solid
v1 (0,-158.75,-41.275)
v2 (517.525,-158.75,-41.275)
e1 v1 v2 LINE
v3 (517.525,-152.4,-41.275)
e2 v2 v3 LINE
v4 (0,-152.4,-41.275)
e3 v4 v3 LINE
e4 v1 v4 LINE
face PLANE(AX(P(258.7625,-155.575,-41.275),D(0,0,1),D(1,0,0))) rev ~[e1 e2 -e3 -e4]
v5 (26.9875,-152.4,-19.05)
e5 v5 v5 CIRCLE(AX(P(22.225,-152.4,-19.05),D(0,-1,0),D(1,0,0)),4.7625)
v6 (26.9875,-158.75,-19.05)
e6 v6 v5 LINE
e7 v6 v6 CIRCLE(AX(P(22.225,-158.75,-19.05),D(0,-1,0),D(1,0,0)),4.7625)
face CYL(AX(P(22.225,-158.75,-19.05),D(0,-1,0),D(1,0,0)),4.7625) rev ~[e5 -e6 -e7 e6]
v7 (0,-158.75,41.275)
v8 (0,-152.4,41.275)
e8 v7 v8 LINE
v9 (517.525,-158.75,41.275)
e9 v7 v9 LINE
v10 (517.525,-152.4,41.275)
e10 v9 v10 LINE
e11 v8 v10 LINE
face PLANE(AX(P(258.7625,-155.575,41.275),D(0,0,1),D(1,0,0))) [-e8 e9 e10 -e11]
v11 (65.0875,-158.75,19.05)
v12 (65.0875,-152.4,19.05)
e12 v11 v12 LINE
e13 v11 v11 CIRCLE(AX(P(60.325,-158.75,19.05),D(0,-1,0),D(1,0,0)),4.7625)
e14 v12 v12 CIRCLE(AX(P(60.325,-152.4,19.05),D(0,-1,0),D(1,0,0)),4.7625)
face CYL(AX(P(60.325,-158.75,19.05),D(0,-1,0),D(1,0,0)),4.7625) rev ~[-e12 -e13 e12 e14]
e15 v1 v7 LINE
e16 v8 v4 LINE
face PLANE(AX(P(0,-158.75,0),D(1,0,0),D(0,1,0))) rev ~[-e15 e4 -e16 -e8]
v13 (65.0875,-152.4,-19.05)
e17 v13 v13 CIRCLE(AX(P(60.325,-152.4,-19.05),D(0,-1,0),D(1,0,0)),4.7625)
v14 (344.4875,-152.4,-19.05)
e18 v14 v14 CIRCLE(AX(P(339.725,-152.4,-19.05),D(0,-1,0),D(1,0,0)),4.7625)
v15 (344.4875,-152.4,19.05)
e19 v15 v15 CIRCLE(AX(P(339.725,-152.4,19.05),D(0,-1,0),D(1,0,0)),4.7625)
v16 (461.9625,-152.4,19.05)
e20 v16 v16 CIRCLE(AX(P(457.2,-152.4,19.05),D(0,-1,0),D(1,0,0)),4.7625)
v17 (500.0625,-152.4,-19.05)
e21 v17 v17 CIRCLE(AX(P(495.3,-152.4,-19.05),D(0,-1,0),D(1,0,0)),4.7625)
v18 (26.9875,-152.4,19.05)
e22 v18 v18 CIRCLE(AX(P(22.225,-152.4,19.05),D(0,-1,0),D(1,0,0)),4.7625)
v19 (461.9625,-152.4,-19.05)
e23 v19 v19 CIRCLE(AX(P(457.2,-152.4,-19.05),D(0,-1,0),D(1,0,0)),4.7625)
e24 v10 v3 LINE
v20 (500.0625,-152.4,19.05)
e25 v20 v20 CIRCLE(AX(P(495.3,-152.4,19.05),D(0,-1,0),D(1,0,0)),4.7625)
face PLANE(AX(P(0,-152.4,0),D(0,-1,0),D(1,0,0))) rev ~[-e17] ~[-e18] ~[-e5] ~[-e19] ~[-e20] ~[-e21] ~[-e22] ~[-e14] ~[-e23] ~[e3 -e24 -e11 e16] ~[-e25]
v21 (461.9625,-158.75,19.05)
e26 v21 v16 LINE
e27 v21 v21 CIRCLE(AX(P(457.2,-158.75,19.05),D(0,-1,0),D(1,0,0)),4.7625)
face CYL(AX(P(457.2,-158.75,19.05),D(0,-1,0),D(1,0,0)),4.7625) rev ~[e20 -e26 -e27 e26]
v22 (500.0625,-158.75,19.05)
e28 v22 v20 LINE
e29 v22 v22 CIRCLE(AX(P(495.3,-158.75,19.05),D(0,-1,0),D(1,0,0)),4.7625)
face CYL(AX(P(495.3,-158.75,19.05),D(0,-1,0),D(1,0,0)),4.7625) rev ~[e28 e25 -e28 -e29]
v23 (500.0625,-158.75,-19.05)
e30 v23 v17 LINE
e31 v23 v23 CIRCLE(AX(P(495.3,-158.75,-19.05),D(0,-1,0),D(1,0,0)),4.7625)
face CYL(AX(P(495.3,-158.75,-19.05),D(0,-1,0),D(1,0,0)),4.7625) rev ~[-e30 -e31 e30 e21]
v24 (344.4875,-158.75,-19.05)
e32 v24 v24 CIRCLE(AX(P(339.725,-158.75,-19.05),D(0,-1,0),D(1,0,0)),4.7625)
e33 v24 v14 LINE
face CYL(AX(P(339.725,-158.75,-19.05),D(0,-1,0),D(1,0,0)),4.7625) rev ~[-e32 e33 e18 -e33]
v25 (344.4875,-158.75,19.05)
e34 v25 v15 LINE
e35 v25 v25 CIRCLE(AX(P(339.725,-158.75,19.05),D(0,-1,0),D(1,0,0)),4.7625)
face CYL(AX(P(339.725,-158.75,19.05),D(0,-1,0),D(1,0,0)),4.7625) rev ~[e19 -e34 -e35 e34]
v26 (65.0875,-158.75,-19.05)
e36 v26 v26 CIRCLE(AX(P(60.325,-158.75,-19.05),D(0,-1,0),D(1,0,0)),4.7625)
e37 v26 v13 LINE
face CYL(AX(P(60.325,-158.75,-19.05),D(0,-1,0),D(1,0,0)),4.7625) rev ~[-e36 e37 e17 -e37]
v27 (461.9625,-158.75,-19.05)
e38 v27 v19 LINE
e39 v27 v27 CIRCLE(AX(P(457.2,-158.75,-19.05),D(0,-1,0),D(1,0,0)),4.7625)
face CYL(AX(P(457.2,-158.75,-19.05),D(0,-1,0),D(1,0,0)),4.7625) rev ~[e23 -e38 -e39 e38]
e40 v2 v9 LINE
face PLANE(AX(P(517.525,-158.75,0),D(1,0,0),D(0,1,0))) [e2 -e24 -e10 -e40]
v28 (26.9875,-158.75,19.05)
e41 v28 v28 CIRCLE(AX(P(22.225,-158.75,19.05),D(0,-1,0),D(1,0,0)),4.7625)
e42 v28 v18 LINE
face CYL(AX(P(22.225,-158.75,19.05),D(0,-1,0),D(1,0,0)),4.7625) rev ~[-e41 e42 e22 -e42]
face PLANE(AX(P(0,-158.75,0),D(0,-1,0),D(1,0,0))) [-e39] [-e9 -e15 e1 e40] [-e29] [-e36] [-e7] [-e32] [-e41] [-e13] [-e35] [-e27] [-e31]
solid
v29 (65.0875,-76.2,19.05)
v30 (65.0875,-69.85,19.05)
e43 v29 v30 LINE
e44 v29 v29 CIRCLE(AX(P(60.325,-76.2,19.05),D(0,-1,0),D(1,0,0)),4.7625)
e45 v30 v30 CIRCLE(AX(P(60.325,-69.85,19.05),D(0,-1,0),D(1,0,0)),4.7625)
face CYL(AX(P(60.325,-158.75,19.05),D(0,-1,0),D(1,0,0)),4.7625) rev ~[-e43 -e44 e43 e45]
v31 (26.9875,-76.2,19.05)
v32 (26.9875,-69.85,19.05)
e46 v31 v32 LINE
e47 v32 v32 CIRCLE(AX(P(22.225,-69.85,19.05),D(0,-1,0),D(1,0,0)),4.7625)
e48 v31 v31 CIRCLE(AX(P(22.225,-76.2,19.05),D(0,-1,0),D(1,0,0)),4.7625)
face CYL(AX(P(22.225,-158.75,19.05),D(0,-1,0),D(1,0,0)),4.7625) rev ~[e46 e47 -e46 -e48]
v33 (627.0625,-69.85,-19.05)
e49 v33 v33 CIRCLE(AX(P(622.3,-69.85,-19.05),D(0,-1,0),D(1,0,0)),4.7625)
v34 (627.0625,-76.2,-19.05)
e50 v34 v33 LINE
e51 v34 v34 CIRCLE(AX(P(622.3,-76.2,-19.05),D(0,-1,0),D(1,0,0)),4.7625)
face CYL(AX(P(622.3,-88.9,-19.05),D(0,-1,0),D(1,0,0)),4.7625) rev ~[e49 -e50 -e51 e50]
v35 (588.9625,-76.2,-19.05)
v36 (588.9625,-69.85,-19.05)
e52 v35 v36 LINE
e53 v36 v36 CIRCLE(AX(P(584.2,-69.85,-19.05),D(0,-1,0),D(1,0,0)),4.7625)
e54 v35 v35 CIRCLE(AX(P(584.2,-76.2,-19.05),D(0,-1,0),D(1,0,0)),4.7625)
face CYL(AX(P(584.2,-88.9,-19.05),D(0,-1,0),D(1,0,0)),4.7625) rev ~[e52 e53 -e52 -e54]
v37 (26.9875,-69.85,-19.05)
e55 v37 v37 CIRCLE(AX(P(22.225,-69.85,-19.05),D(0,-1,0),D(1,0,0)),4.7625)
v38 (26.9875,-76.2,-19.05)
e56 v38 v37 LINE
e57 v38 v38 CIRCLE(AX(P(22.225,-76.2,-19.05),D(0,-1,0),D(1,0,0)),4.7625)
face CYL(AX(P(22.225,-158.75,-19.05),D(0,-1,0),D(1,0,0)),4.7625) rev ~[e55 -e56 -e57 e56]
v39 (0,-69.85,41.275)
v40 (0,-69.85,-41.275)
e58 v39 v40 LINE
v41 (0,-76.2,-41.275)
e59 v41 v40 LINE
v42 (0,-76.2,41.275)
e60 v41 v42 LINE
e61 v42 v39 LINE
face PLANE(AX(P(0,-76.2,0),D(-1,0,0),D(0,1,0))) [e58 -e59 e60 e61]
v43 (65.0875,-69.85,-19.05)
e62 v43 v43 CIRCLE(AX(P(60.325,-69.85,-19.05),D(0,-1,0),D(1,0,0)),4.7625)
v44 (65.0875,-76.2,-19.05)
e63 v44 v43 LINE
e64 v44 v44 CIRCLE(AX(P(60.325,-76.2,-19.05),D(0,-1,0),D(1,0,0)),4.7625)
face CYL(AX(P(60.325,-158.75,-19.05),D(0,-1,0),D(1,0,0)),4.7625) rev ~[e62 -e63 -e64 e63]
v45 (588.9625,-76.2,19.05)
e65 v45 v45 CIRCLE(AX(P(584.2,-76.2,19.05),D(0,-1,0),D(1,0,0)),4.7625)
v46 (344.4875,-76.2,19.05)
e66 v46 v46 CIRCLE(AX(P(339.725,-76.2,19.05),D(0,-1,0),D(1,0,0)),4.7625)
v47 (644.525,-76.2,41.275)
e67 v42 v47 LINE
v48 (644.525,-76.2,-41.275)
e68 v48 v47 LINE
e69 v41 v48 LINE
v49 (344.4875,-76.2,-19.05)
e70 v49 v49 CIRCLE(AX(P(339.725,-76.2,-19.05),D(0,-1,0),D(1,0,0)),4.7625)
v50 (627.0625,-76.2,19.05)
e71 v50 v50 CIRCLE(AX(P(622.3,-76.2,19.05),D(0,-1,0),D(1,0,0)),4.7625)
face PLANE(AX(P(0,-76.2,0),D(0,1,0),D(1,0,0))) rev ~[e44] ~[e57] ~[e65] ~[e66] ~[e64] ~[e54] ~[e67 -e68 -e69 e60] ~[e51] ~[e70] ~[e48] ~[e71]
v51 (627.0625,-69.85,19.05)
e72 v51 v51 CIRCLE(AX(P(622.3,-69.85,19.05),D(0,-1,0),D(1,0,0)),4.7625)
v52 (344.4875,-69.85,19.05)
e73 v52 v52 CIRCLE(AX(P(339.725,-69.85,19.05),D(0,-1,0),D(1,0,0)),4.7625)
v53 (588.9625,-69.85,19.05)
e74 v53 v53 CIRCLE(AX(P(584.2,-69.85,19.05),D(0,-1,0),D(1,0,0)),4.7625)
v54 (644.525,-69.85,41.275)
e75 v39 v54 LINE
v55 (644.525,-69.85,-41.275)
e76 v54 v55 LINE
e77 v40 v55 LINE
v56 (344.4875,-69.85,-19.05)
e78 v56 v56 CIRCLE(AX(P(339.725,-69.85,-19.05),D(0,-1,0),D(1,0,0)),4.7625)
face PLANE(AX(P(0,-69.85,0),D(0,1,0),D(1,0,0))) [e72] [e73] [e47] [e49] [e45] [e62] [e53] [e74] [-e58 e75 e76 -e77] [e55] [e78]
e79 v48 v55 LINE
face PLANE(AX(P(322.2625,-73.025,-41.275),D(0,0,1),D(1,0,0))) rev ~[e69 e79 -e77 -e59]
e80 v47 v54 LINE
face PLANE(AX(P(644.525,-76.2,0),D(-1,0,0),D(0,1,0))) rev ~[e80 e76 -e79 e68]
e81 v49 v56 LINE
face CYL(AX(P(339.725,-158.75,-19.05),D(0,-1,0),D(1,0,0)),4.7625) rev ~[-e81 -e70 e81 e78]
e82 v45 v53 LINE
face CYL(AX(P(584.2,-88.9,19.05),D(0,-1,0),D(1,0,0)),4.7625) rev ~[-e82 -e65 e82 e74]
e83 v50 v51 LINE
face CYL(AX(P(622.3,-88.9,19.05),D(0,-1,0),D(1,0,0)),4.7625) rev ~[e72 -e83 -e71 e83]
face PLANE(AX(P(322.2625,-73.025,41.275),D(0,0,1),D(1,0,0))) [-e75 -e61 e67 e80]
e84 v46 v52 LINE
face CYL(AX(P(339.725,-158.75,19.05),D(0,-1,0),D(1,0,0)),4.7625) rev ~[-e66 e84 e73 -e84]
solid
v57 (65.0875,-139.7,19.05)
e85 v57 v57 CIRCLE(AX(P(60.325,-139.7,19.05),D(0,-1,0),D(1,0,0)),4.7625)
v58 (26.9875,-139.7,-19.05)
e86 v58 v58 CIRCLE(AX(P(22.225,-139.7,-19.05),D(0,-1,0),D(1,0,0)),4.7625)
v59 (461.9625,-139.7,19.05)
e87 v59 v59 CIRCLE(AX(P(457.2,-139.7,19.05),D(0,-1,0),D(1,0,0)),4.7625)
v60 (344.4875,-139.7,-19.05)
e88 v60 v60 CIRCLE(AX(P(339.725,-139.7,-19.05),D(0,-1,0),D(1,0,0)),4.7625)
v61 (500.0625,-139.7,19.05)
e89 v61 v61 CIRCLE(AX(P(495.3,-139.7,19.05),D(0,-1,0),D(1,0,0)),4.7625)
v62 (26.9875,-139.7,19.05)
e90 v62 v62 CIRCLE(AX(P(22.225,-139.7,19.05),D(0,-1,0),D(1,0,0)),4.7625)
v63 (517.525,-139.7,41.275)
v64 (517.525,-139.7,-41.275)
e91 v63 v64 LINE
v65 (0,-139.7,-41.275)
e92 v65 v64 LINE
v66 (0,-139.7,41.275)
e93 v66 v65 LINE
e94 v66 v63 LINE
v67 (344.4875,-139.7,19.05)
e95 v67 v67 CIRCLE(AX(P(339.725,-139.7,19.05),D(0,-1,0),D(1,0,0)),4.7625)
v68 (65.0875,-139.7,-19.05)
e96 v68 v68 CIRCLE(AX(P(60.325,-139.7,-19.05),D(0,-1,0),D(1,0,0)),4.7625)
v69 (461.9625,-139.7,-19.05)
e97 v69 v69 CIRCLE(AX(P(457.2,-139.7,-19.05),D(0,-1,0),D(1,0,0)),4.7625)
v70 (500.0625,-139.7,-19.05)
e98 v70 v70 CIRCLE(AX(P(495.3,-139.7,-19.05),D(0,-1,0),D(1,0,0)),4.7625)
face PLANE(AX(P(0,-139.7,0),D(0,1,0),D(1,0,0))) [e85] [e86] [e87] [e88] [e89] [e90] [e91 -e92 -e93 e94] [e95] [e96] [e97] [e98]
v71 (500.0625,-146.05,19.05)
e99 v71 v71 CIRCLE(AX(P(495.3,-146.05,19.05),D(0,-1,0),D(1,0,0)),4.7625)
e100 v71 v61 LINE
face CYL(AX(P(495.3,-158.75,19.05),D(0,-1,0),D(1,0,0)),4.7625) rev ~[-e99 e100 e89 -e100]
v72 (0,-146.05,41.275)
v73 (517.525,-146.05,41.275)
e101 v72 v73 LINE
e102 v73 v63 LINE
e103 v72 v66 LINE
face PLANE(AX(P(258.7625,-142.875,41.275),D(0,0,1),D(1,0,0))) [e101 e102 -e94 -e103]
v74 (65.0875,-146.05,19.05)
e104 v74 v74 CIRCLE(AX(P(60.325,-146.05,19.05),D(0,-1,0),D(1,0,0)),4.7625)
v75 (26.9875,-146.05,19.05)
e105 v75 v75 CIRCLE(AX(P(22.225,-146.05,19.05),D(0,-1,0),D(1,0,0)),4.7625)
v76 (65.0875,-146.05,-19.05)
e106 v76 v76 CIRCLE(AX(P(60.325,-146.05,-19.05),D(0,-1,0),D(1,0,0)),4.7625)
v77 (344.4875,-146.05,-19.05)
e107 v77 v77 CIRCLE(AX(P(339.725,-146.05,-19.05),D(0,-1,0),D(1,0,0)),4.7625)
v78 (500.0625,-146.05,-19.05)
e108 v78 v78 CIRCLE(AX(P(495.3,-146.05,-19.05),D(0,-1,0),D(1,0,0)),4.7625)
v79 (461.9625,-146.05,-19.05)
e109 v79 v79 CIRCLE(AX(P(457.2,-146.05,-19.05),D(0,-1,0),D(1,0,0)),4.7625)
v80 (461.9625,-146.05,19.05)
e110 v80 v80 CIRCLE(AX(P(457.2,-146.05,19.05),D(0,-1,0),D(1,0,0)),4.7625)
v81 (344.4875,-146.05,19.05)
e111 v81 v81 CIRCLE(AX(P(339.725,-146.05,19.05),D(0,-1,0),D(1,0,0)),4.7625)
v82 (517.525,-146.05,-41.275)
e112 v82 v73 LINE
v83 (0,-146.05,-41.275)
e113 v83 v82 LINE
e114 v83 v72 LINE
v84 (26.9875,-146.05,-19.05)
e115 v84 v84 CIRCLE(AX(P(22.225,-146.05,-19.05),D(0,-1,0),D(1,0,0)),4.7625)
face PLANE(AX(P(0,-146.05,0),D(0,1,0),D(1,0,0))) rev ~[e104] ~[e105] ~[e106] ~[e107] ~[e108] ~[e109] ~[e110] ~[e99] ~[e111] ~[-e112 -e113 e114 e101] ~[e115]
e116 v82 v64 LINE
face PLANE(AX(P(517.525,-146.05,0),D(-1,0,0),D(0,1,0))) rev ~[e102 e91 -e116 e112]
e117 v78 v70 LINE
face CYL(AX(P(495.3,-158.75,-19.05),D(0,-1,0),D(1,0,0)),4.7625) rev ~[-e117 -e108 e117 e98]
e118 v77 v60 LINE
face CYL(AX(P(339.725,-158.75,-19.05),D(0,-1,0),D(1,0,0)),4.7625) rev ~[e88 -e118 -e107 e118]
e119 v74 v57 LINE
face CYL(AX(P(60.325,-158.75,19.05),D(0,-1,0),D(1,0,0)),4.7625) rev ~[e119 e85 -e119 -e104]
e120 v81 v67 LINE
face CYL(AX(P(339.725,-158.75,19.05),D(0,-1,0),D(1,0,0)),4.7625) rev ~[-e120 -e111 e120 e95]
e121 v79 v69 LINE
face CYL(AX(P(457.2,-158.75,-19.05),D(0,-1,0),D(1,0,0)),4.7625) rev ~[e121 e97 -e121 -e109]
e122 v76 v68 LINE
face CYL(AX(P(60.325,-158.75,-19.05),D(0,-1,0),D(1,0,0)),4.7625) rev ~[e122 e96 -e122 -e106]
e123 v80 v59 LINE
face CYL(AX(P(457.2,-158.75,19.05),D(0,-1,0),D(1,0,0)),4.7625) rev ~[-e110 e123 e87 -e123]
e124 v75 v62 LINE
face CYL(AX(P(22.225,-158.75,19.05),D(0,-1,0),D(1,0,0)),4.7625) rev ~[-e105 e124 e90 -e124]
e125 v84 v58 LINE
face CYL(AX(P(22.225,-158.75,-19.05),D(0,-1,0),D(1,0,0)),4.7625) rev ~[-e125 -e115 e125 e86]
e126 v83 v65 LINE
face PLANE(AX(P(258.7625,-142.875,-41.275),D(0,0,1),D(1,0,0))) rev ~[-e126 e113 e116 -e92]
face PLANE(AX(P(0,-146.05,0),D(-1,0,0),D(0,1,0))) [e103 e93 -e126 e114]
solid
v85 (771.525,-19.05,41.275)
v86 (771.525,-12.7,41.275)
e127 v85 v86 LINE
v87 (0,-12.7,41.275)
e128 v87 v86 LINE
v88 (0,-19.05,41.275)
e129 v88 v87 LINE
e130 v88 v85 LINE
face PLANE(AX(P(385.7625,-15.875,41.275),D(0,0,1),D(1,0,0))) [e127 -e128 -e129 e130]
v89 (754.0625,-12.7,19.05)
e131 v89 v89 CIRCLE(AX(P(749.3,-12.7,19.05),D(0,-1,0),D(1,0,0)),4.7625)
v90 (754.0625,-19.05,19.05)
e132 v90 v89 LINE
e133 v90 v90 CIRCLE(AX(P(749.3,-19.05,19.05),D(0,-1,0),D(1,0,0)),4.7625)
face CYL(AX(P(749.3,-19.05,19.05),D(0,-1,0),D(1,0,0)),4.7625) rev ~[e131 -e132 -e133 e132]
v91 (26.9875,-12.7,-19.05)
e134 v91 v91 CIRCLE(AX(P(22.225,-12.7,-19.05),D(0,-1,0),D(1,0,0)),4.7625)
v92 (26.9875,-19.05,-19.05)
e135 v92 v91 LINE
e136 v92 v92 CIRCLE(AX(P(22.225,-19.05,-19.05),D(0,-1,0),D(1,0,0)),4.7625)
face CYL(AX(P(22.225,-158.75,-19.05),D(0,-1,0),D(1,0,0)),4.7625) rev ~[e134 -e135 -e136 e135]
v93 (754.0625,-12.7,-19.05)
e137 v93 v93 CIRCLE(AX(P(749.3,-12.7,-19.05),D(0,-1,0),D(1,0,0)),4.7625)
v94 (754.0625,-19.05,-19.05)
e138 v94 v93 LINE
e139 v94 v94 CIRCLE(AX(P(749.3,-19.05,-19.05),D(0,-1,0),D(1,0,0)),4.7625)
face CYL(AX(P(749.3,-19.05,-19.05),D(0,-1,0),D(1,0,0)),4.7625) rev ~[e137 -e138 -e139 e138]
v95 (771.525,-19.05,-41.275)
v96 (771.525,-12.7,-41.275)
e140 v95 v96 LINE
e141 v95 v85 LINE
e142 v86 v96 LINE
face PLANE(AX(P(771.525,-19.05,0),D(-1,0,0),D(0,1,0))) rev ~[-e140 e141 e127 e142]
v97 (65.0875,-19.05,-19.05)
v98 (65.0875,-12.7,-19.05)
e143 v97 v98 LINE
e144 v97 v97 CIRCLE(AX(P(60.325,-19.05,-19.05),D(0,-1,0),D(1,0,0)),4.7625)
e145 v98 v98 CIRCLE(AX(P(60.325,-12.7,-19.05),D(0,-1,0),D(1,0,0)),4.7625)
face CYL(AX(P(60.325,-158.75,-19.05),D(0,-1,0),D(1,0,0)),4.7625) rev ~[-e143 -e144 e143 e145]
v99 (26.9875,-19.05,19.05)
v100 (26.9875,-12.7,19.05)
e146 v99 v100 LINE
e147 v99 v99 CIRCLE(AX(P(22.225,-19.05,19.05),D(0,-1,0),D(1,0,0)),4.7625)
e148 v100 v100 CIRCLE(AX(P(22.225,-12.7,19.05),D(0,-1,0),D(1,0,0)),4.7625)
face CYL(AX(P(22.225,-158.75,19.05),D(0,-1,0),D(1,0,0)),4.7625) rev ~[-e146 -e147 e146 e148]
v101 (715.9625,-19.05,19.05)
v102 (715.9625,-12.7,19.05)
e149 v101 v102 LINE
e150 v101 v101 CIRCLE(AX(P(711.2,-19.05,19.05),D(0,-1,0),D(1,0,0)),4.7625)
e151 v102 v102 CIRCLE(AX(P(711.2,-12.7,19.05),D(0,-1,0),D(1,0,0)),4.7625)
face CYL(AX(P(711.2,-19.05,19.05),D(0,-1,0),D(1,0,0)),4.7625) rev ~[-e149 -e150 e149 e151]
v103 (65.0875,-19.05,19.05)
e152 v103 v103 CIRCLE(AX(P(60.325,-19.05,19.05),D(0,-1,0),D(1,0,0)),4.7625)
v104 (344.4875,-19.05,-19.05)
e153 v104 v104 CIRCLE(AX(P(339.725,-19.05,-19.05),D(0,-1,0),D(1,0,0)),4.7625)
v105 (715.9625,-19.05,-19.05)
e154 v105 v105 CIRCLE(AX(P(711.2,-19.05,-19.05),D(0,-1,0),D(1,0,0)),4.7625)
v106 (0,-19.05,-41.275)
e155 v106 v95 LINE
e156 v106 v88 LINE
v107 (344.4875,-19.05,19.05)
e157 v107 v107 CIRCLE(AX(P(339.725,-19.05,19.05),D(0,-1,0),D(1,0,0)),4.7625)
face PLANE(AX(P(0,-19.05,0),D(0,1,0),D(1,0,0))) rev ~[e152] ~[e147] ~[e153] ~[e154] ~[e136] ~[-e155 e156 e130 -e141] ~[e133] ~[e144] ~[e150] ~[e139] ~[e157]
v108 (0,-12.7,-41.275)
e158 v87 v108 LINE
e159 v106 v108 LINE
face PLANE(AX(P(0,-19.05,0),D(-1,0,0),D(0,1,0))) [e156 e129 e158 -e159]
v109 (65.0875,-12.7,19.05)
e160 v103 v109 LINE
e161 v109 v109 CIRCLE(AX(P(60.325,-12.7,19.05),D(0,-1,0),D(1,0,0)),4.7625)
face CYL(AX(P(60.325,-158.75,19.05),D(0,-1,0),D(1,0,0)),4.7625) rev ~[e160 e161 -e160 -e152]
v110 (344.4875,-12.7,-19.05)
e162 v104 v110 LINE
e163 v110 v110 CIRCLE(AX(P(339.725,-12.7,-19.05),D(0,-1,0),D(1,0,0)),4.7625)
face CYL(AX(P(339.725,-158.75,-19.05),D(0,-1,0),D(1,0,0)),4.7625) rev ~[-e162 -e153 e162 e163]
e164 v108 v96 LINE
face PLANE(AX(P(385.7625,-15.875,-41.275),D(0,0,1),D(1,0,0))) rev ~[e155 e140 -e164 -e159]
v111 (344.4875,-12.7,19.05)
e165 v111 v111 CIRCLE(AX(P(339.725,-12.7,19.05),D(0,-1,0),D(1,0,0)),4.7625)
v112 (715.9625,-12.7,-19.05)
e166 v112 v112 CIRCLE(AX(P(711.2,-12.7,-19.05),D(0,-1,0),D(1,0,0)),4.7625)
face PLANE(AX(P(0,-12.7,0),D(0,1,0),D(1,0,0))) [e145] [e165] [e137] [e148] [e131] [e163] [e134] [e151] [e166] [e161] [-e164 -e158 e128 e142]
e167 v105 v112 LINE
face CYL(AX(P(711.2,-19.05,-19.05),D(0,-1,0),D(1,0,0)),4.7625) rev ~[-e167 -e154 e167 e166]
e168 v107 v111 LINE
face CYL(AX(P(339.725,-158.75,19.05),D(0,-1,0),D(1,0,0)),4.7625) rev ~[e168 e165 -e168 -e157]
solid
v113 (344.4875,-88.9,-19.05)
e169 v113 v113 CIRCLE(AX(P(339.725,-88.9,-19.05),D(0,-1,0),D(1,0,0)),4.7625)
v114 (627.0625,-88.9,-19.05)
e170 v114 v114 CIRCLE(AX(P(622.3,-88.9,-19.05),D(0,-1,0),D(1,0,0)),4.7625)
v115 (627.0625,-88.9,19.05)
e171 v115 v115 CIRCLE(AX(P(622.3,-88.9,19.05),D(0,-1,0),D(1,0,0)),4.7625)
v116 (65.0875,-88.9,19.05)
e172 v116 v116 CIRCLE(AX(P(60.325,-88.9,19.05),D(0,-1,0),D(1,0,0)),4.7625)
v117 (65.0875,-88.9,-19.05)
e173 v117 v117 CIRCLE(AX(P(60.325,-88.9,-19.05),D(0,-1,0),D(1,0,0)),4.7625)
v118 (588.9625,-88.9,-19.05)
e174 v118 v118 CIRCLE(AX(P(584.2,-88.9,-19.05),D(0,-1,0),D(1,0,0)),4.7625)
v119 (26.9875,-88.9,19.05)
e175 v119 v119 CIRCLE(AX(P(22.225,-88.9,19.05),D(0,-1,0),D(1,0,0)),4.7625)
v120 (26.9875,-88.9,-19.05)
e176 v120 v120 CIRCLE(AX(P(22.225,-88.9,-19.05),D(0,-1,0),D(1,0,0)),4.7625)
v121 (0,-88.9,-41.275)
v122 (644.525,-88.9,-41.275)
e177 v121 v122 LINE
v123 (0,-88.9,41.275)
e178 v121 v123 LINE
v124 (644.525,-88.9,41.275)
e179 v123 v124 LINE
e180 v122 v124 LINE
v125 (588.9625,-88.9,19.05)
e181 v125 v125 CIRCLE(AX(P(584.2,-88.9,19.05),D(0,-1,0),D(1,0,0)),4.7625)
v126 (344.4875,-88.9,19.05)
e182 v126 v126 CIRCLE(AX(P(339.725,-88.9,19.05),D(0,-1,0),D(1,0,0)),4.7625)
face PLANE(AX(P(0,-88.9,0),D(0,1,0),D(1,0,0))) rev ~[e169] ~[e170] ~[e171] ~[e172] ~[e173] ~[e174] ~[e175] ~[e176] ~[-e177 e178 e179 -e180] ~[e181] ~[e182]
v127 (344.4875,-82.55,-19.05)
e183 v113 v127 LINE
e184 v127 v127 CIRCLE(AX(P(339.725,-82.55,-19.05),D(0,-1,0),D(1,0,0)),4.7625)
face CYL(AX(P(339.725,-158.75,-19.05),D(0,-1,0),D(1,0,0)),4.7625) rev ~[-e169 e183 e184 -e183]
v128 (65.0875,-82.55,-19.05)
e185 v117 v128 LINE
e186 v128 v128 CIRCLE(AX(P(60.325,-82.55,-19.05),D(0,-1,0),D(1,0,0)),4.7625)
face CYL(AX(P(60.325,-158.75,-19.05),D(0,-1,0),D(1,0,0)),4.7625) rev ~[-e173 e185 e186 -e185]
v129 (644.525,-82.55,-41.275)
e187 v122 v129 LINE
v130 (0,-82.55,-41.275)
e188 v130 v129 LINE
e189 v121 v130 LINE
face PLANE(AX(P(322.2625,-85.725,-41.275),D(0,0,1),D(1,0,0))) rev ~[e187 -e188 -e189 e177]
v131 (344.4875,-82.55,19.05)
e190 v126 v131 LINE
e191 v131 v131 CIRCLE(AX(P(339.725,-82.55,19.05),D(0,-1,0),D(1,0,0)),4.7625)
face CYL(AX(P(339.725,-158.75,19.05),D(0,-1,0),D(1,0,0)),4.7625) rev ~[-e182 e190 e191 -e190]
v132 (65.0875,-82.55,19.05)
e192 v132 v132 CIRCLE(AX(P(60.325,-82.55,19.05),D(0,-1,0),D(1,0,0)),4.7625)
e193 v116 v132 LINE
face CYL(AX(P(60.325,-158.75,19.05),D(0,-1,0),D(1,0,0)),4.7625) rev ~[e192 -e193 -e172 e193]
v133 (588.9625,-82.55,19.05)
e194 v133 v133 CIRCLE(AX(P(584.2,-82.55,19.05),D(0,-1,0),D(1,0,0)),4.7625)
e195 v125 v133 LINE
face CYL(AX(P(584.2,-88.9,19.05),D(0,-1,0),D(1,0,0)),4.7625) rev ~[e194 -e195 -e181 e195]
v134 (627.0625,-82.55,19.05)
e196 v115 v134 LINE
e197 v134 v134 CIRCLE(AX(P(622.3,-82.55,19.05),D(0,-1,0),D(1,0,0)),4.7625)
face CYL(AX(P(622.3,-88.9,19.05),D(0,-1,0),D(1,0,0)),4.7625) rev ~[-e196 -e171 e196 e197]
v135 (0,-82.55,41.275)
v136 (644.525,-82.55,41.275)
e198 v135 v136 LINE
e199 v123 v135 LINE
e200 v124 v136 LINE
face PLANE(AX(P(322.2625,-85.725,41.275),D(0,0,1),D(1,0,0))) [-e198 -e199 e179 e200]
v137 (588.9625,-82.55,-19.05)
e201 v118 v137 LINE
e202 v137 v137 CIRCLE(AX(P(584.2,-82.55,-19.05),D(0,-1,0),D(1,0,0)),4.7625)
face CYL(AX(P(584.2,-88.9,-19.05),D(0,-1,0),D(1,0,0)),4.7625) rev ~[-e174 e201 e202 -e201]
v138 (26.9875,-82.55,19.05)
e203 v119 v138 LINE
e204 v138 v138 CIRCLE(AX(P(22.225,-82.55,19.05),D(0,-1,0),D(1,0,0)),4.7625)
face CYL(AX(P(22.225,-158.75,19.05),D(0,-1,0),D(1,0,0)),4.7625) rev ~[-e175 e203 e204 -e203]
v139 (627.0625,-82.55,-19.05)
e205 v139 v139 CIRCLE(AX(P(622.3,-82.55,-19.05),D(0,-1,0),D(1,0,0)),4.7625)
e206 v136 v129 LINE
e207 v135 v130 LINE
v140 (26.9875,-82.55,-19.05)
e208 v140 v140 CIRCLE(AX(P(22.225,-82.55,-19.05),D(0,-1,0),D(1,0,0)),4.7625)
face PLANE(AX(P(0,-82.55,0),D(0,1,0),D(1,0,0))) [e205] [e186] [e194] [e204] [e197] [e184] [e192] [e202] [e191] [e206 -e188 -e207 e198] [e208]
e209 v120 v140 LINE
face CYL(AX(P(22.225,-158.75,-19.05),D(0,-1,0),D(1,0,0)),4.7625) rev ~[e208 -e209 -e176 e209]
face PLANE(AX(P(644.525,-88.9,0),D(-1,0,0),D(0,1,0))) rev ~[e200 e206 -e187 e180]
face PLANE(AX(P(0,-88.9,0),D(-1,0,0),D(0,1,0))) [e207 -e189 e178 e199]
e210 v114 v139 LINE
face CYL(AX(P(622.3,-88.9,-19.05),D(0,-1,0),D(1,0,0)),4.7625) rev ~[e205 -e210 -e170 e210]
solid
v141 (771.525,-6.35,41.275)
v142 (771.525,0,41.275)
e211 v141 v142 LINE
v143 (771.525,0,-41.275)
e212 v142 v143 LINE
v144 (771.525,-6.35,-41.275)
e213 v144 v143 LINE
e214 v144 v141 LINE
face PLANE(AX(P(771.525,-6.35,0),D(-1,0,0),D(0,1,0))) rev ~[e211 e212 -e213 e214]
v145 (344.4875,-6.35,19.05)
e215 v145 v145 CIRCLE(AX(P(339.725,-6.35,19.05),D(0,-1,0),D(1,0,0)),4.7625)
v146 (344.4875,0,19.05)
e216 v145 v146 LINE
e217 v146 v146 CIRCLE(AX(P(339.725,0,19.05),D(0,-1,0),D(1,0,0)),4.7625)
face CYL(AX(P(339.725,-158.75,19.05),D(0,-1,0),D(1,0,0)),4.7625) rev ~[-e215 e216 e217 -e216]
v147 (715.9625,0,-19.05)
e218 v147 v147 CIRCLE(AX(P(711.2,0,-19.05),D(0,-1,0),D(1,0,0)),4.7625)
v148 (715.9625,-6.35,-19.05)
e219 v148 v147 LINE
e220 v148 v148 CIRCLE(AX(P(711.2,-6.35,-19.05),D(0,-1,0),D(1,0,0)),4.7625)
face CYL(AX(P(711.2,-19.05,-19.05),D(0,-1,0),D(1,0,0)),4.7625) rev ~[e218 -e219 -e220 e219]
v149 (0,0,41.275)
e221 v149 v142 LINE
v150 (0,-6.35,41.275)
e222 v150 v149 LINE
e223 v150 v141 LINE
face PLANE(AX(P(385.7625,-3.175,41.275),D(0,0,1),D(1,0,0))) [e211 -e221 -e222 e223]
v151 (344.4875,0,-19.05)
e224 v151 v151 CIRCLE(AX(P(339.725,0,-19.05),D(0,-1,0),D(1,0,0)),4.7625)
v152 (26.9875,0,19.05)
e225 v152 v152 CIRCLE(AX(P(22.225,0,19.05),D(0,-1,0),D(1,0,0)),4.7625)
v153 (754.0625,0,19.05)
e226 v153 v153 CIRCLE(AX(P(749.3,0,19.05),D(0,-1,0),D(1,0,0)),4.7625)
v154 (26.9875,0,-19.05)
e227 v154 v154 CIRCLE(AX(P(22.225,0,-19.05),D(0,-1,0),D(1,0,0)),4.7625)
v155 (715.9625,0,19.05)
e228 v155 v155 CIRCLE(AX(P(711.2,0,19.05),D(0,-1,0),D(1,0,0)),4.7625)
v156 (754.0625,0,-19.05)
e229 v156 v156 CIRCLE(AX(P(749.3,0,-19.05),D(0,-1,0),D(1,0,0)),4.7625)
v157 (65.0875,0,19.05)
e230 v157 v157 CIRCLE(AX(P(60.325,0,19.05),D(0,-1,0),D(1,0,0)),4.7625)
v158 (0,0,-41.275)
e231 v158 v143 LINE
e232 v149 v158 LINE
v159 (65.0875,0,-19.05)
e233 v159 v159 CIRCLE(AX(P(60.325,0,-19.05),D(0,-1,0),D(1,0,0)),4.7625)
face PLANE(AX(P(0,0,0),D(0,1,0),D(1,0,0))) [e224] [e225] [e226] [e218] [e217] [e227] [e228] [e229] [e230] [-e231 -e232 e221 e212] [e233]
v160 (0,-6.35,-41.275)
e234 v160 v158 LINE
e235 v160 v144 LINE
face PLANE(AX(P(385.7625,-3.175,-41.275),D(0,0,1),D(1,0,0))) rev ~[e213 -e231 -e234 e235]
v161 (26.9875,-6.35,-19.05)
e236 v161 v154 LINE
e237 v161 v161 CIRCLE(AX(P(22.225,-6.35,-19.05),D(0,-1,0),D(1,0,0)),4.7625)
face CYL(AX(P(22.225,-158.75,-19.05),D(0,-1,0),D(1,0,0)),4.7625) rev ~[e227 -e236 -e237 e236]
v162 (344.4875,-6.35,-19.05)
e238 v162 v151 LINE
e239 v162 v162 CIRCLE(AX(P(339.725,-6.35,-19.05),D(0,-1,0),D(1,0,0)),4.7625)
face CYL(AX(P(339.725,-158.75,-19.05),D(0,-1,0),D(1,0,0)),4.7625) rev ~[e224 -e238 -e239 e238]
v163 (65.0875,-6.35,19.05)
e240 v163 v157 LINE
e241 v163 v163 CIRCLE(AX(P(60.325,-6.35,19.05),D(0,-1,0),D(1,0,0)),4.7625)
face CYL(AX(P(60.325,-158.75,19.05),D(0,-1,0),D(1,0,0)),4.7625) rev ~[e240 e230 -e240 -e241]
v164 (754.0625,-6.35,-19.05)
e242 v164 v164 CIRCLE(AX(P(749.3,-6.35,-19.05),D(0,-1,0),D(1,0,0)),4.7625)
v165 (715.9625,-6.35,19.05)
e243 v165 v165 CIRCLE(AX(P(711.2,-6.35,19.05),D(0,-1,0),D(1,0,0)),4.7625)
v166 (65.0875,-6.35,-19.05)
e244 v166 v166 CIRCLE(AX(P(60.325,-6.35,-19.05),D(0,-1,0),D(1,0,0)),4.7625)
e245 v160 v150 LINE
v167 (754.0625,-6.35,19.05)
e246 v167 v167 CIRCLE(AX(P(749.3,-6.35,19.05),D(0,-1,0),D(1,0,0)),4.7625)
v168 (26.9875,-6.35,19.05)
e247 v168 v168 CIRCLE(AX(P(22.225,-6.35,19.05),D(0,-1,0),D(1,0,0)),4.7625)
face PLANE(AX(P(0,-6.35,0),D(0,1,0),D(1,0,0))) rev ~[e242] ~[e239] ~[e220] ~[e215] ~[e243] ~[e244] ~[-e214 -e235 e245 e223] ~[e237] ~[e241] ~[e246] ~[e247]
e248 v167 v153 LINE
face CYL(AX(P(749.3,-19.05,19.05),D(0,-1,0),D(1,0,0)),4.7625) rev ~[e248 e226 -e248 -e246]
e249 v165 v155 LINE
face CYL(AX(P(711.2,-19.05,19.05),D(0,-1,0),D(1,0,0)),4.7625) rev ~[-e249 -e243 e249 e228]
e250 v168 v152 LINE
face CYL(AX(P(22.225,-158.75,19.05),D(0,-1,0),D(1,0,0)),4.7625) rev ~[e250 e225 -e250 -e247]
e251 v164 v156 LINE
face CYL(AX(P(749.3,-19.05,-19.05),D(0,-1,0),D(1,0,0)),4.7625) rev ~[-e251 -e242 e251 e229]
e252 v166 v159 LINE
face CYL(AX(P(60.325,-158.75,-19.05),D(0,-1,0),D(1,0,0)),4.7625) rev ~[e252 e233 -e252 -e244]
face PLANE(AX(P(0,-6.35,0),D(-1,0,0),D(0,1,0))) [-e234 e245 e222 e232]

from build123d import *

# Parameters (mm, degrees)
F0_W     = 771.525
F0_H     = 6.35
F0_W_2   = 644.525
F0_W_3   = 517.525
F1_DEPTH = 41.275
F2_R     = 4.7625
F3_DEPTH = 158.751
F4_R     = 4.7625
F5_DEPTH = 19.05
F6_R     = 4.7625
F7_DEPTH = 19.05
F8_R     = 4.7625
F9_DEPTH = 19.05


with BuildPart() as f1:
    # F0 (on Top) → F1 (new body, symmetric)
    with BuildSketch(Plane.XY):
        with Locations((385.7625, -3.175)):
            Rectangle(F0_W, F0_H)
        with Locations((385.7625, -15.875)):
            Rectangle(F0_W, F0_H)
        with Locations((322.2625, -73.025)):
            Rectangle(F0_W_2, F0_H)
        with Locations((322.2625, -85.725)):
            Rectangle(F0_W_2, F0_H)
        with Locations((258.7625, -142.875)):
            Rectangle(F0_W_3, F0_H)
        with Locations((258.7625, -155.575)):
            Rectangle(F0_W_3, F0_H)
    extrude(amount=F1_DEPTH, both=True)

    # F2 (on face) → F3 (cut, through all)
    with BuildSketch(Plane.XZ.offset(158.75)):
        with Locations((22.225, 19.05)):
            Circle(F2_R)
        with Locations((22.225, -19.05)):
            Circle(F2_R)
        with Locations((60.325, -19.05)):
            Circle(F2_R)
        with Locations((60.325, 19.05)):
            Circle(F2_R)
        with Locations((339.725, 19.05)):
            Circle(F2_R)
        with Locations((339.725, -19.05)):
            Circle(F2_R)
    extrude(amount=-F3_DEPTH, mode=Mode.SUBTRACT)

    # F4 (on face) → F5 (cut, through all)
    with BuildSketch(Plane.XZ.offset(158.75)):
        with Locations((457.2, 19.05)):
            Circle(F4_R)
        with Locations((457.2, -19.05)):
            Circle(F4_R)
        with Locations((495.3, -19.05)):
            Circle(F4_R)
        with Locations((495.3, 19.05)):
            Circle(F4_R)
    extrude(amount=-F5_DEPTH, mode=Mode.SUBTRACT)

    # F6 (on face) → F7 (cut, through all)
    with BuildSketch(Plane.XZ.offset(88.9)):
        with Locations((584.2, 19.05)):
            Circle(F6_R)
        with Locations((584.2, -19.05)):
            Circle(F6_R)
        with Locations((622.3, -19.05)):
            Circle(F6_R)
        with Locations((622.3, 19.05)):
            Circle(F6_R)
    extrude(amount=-F7_DEPTH, mode=Mode.SUBTRACT)

    # F8 (on face) → F9 (cut, through all)
    with BuildSketch(Plane.XZ.offset(19.05)):
        with Locations((711.2, 19.05)):
            Circle(F8_R)
        with Locations((711.2, -19.05)):
            Circle(F8_R)
        with Locations((749.3, -19.05)):
            Circle(F8_R)
        with Locations((749.3, 19.05)):
            Circle(F8_R)
    extrude(amount=-F9_DEPTH, mode=Mode.SUBTRACT)


solid = f1.part
